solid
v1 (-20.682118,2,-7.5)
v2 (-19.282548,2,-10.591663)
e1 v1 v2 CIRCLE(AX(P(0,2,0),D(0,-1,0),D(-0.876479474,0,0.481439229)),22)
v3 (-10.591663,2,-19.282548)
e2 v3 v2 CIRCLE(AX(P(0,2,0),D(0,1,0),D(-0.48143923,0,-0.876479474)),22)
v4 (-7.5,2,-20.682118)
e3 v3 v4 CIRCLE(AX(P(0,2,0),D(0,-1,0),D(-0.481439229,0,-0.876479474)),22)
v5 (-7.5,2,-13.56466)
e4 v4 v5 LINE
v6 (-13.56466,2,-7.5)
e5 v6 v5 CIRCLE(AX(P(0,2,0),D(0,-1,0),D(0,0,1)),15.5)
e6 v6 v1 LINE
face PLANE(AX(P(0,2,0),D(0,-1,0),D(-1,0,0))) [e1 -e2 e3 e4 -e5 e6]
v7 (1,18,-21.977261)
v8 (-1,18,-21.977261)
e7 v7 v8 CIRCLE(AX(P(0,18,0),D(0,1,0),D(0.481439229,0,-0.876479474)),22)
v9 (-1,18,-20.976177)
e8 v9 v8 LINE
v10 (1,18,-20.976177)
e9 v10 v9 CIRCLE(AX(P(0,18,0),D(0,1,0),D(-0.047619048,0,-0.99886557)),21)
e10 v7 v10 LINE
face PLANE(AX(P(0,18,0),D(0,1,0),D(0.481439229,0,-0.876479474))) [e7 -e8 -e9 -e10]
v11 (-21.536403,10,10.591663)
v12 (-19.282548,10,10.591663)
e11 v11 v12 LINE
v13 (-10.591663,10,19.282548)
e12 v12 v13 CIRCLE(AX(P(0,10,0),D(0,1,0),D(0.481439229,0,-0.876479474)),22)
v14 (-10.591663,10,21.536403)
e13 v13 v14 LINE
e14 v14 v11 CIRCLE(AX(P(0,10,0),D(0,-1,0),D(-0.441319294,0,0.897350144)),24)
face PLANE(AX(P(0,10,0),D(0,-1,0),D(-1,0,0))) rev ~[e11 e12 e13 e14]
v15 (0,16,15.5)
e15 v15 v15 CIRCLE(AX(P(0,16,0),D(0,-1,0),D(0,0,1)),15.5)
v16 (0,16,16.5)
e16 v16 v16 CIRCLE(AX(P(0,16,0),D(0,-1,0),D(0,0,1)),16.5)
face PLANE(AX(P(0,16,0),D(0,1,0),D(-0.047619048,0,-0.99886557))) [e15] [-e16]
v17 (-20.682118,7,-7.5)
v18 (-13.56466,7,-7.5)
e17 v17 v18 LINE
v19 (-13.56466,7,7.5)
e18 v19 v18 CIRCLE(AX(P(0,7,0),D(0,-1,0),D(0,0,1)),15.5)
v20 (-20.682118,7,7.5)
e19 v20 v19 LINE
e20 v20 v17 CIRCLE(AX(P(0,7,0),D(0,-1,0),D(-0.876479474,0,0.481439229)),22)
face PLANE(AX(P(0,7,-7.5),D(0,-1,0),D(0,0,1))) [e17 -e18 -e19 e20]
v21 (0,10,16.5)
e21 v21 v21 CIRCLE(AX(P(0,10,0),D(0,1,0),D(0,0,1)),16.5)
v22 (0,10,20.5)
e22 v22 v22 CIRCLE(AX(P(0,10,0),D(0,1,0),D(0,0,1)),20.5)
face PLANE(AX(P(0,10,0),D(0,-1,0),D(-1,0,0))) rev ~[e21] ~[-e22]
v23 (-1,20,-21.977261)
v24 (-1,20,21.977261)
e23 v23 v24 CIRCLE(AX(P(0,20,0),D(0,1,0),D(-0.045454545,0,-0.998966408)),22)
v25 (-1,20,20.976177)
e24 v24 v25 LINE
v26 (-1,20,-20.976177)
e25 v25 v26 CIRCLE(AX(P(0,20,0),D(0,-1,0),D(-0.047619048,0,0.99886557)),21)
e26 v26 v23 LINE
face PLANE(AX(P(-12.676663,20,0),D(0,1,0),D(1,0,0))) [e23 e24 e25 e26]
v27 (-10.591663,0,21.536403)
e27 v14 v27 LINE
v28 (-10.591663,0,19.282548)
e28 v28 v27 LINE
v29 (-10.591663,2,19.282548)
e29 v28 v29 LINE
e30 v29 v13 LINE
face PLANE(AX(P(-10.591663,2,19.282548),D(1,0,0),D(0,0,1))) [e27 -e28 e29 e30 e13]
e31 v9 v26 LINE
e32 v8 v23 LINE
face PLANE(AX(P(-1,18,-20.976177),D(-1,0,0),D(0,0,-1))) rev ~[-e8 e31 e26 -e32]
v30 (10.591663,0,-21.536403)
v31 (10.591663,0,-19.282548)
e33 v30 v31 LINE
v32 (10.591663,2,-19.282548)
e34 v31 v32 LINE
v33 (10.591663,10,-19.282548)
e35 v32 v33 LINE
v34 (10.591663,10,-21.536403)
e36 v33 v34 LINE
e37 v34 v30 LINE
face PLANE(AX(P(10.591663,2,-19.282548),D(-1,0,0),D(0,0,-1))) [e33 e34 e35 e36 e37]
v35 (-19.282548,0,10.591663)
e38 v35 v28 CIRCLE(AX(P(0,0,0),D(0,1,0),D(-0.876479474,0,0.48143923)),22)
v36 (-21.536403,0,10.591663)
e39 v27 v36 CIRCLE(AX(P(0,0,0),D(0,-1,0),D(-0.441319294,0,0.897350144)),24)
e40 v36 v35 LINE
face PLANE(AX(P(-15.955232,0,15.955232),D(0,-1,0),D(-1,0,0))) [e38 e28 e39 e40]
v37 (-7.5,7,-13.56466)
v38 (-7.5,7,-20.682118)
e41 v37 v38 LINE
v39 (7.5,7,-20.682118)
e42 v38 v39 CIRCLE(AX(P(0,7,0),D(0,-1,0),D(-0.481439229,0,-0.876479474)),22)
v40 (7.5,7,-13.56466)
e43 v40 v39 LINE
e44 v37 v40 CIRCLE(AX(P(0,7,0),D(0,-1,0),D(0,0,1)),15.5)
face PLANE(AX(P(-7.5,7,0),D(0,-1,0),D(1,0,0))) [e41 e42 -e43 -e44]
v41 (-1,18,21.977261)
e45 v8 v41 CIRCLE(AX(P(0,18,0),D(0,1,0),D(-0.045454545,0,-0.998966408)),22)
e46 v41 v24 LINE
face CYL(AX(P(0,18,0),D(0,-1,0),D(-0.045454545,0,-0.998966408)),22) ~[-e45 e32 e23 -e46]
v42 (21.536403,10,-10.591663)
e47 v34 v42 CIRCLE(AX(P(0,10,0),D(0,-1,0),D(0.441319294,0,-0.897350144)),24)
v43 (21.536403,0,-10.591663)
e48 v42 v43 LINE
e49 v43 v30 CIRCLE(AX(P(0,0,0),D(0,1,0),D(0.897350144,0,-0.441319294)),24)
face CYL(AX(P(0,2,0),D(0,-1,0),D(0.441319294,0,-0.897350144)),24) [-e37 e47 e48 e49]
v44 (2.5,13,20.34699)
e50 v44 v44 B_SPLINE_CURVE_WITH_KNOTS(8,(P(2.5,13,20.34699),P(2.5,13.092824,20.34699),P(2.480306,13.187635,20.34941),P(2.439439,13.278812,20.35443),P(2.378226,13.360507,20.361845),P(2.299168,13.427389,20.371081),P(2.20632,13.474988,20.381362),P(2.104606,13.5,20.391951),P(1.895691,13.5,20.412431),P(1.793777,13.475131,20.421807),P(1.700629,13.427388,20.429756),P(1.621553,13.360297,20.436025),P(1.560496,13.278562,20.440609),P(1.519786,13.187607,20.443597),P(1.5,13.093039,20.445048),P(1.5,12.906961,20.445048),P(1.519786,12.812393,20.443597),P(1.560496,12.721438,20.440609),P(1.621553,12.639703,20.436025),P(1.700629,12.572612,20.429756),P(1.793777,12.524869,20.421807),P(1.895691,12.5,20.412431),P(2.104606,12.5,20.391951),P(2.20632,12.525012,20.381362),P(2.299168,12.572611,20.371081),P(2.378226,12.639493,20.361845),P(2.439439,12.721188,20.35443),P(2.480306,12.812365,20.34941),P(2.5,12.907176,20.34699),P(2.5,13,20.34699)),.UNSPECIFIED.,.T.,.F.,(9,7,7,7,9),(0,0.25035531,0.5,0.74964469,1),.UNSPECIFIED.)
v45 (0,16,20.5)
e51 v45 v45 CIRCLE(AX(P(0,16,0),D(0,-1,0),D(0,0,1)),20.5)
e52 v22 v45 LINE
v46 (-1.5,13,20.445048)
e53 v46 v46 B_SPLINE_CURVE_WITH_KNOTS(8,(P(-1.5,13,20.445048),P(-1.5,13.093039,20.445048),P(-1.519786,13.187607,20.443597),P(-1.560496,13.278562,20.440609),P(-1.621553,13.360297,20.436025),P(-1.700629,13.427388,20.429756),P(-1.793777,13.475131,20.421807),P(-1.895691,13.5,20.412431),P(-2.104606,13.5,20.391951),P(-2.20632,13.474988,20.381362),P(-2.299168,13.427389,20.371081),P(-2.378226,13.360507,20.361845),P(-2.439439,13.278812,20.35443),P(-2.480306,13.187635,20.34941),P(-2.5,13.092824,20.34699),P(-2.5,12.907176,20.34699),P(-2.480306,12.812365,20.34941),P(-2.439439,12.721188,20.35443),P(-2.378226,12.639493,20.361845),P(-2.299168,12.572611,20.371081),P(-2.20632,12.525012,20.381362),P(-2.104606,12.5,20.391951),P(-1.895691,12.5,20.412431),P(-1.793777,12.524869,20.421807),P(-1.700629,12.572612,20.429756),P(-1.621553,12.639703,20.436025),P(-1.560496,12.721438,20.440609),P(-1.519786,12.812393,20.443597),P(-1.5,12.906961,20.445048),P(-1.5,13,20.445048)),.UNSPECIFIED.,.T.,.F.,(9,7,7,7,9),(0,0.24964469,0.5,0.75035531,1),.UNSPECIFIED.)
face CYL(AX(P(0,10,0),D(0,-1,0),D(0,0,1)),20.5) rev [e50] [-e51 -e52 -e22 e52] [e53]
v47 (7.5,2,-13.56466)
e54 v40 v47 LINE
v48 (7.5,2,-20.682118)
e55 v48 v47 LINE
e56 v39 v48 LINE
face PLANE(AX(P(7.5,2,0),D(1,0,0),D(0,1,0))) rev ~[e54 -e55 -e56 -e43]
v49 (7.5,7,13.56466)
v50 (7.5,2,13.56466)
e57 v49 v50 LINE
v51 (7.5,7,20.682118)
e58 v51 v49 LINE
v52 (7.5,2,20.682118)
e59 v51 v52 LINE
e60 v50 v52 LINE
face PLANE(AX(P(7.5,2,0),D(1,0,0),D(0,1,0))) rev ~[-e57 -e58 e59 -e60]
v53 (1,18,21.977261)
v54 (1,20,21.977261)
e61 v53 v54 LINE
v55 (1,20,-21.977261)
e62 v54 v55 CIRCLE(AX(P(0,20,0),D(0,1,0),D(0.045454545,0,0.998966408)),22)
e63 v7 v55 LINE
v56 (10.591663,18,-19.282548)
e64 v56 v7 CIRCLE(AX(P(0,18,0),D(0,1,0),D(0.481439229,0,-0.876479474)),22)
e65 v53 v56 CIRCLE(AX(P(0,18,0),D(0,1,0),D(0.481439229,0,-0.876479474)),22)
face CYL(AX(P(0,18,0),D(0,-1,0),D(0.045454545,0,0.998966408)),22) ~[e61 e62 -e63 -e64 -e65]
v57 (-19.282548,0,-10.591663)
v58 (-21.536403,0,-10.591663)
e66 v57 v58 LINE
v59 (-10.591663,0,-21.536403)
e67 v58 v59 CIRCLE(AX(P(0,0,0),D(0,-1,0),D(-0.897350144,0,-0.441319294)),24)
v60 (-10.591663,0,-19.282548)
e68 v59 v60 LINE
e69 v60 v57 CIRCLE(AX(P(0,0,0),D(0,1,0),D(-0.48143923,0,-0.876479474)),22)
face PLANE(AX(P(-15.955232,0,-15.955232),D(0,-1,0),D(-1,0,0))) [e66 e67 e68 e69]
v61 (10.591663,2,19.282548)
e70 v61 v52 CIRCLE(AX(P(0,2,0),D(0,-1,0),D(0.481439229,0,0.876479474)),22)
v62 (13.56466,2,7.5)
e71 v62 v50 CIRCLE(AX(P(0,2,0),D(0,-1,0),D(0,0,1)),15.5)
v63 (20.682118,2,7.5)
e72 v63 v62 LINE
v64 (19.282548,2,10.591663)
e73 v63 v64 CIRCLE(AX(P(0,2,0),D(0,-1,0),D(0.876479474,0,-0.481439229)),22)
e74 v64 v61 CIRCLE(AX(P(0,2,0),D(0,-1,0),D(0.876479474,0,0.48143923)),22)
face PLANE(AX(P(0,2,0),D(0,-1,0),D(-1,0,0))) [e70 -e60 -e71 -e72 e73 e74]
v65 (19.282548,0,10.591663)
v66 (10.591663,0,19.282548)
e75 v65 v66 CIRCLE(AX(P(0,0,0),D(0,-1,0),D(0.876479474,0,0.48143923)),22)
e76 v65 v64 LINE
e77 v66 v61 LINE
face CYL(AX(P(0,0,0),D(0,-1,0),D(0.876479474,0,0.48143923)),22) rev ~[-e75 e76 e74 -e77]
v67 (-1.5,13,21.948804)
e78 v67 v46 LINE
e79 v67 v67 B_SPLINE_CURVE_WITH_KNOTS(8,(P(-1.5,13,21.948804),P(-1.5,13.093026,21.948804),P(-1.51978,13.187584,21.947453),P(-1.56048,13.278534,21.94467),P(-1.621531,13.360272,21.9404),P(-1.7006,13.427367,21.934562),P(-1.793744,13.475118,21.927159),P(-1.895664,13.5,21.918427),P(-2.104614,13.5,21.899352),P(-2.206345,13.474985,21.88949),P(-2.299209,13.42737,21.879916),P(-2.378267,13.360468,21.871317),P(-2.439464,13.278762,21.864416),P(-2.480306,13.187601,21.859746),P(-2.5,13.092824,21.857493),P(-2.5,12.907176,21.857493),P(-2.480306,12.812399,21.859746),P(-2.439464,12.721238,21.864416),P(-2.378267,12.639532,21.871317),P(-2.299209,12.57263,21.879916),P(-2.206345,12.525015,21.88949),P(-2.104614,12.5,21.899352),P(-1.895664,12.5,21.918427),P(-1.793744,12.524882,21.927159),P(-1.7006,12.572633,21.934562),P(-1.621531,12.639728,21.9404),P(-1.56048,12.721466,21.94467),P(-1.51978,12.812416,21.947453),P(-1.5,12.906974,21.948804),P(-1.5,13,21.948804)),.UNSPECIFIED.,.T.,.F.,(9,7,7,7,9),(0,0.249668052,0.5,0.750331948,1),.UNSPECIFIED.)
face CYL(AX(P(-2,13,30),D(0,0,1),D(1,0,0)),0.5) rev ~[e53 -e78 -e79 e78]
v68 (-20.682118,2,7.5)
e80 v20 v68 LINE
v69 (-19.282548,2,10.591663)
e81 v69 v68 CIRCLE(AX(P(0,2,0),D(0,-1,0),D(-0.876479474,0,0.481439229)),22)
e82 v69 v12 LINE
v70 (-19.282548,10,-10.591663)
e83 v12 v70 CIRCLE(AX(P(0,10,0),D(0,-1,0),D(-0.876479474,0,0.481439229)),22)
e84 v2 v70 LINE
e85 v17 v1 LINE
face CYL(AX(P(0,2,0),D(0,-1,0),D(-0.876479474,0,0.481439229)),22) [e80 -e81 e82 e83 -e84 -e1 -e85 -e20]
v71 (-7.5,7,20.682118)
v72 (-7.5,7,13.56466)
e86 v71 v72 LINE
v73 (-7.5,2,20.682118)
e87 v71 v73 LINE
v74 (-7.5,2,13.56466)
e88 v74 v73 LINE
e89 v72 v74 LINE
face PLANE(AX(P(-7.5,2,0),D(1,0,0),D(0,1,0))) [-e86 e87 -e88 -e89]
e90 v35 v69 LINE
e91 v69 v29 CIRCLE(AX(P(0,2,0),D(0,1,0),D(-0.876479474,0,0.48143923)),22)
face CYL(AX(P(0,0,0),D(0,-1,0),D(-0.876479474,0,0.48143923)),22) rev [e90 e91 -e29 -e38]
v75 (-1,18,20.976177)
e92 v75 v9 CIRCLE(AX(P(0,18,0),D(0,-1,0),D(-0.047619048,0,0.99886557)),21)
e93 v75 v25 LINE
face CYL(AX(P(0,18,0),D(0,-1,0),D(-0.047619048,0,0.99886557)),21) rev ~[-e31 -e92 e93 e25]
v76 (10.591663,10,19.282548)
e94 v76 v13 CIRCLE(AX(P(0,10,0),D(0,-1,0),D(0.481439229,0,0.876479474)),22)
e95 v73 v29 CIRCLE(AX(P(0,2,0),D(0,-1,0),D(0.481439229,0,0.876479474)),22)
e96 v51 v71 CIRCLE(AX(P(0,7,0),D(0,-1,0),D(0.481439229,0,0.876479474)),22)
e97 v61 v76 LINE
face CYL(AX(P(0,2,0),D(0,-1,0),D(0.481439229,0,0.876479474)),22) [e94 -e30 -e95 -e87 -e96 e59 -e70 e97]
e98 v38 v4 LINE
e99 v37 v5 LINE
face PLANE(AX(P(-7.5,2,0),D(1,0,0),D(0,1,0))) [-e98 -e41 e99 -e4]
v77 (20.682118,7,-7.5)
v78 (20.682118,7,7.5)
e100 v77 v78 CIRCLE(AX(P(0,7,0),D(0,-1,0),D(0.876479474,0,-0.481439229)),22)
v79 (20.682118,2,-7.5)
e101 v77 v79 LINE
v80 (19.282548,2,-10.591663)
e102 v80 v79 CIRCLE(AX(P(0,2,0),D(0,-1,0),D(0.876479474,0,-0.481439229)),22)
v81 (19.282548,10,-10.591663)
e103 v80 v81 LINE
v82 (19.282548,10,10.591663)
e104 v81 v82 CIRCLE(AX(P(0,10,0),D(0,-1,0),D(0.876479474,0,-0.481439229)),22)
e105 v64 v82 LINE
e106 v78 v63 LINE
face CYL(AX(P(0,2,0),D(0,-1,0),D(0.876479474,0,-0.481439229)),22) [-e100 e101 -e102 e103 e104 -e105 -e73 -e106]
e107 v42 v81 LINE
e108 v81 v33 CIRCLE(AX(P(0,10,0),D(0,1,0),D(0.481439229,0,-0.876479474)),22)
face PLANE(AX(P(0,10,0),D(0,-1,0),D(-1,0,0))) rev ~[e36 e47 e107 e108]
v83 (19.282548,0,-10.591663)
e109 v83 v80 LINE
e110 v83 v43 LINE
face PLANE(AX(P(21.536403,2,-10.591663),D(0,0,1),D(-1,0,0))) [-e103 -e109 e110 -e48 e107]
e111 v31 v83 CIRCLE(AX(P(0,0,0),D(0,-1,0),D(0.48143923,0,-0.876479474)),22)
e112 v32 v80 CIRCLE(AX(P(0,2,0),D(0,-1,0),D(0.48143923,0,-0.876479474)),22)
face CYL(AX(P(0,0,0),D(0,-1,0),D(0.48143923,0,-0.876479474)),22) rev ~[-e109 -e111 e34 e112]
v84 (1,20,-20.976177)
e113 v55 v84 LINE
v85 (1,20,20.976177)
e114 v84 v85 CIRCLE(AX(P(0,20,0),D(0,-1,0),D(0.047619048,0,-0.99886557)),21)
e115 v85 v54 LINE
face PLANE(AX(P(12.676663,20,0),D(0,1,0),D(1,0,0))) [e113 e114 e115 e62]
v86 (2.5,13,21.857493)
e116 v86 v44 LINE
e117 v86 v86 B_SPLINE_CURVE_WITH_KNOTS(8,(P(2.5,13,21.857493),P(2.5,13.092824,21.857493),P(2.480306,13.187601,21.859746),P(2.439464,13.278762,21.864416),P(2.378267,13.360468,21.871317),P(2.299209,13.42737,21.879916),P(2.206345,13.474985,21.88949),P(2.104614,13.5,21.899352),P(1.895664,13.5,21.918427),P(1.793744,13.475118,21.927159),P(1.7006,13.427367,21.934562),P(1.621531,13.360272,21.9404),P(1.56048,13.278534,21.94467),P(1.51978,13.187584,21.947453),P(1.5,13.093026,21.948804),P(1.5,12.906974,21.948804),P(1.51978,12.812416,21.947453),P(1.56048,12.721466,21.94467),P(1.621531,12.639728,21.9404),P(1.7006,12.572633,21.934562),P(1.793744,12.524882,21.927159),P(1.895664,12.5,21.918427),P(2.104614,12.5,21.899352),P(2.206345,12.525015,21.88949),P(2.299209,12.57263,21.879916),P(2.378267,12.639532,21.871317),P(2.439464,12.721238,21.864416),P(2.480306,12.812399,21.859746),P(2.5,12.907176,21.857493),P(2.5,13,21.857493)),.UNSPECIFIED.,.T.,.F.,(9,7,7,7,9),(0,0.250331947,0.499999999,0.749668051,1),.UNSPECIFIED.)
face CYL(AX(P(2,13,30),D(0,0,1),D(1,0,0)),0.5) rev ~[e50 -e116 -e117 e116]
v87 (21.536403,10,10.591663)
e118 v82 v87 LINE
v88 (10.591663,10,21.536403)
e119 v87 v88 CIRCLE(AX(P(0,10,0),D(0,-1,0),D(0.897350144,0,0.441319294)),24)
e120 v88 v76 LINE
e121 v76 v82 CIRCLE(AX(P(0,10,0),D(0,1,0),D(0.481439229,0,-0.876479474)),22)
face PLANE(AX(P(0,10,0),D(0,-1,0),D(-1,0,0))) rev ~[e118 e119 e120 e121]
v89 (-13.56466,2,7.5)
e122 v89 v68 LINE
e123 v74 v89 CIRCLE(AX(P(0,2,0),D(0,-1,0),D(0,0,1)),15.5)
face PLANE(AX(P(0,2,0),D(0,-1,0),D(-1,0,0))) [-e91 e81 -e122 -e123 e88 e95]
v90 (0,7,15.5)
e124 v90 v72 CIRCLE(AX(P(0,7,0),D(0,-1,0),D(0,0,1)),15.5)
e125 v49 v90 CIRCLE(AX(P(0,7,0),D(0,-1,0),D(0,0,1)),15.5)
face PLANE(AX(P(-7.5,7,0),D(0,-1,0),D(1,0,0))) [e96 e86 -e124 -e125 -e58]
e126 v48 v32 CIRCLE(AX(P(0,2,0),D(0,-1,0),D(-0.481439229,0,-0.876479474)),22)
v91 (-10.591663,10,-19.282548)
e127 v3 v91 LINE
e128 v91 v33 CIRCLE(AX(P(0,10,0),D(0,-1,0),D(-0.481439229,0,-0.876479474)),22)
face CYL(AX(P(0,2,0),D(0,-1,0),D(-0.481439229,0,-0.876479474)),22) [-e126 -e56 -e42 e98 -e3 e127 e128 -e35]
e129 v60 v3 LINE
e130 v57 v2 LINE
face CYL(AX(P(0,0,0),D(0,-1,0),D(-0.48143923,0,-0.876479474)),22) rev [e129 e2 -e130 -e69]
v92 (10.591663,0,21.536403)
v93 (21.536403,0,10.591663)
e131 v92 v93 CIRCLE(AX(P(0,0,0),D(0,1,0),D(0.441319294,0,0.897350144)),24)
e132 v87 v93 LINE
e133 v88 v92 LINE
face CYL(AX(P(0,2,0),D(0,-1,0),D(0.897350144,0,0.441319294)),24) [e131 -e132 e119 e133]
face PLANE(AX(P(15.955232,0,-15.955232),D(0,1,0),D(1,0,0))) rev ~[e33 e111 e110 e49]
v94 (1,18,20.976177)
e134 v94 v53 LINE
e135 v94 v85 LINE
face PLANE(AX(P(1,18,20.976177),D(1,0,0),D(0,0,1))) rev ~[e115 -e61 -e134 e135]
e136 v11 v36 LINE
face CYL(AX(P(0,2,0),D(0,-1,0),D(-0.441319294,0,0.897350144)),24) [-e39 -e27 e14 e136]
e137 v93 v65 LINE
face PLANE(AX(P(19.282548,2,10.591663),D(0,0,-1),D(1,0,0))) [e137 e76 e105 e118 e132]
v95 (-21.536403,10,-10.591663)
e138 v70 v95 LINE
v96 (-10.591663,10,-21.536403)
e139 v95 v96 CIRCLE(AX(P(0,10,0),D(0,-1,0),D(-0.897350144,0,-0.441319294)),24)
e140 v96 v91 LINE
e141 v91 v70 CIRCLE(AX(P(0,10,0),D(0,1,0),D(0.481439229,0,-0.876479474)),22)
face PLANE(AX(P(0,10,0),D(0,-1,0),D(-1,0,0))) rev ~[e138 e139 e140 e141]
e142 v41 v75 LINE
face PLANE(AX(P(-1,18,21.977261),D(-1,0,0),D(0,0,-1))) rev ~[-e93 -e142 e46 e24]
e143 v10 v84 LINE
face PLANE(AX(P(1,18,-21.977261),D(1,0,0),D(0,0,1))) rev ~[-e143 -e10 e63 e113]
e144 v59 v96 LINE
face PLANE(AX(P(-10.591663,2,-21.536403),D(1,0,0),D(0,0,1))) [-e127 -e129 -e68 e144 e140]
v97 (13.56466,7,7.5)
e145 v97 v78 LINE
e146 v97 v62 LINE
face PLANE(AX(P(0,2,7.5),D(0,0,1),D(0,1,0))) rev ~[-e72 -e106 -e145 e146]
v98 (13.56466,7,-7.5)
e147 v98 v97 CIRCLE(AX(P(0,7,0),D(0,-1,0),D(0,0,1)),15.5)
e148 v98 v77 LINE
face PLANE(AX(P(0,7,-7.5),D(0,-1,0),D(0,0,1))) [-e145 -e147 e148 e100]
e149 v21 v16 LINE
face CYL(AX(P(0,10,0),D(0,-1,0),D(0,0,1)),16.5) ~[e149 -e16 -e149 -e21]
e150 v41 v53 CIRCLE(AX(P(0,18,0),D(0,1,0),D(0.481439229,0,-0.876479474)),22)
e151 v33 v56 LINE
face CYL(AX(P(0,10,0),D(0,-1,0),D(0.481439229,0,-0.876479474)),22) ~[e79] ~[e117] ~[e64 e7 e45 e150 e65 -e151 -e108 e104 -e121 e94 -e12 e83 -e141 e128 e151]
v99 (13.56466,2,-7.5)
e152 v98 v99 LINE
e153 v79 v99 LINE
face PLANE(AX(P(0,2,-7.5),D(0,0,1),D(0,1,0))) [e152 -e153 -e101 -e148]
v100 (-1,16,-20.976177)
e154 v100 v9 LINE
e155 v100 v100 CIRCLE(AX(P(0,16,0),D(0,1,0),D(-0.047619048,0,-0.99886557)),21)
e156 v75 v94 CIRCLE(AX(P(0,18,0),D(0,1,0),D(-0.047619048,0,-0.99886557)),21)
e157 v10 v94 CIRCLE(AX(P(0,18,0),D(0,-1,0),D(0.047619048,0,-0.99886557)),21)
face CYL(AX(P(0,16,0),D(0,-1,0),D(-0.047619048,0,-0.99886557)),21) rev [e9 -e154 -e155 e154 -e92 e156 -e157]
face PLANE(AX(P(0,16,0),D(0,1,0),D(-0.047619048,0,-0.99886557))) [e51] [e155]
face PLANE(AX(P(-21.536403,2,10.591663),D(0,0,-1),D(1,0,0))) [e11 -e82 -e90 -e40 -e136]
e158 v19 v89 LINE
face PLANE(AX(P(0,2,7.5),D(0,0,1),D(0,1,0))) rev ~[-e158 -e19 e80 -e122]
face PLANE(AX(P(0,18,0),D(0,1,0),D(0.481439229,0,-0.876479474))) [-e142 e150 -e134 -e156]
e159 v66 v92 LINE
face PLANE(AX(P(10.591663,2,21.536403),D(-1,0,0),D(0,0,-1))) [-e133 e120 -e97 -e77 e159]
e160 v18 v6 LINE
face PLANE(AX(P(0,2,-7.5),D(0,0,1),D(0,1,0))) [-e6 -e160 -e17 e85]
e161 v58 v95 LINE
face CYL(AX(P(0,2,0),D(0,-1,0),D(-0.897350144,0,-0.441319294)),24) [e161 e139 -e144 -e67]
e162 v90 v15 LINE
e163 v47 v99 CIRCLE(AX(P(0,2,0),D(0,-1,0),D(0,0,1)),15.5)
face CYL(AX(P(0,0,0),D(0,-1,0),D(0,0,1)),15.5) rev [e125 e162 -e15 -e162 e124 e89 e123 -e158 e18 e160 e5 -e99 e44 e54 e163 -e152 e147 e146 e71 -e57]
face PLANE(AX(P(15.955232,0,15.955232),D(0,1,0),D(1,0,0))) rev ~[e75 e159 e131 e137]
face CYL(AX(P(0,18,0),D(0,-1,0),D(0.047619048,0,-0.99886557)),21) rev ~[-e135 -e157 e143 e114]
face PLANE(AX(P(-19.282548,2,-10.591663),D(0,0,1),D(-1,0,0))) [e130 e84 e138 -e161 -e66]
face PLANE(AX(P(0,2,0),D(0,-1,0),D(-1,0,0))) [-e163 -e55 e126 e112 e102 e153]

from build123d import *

# Parameters (mm, degrees)
EXTRUDE_1_DEPTH          = 2
EXTRUDE_1_2_DEPTH        = 2
EXTRUDE_1_3_DEPTH        = 2
EXTRUDE_1_4_DEPTH        = 2
EXTRUDE_2_DEPTH          = 8
SKETCH_5_R               = 22
SKETCH_5_R_2             = 20.5
EXTRUDE_3_DEPTH          = 8
SKETCH_6_R               = 16.5
SKETCH_6_R_2             = 15.5
EXTRUDE_4_DEPTH          = 7
CUT_EXTRUDE_START        = -10
SKETCH_7_R               = 15.5
CUT_EXTRUDE_1_DEPTH      = 10
SKETCH_8_W               = 15
SKETCH_8_H               = 5
CUT_EXTRUDE_2_DEPTH      = 36.944401511
PATTERN_CIRCULAR_1_COUNT = 2
PATTERN_CIRCULAR_1_ANGLE = 90
EXTRUDE_5_DEPTH          = 2
CUT_EXTRUDE_START_2      = 30
SKETCH_10_R              = 0.5
CUT_EXTRUDE_3_DEPTH      = 10
CUT_EXTRUDE_START_3      = -2
SKETCH_16_R              = 21
CUT_EXTRUDE_5_DEPTH      = 2


with BuildPart() as part:
    # 草图1 → 凸台-拉伸1 (new body)
    with BuildSketch(Plane(origin=(0, 0, 0), x_dir=(1, 0, 0), z_dir=(0, 1, 0))):
        with BuildLine():
            Line((-10.591663047, 21.536403458), (-10.591663047, 19.282548429))
            ThreePointArc((-10.591663047, 19.282548429), (-15.556349186, 15.556349186), (-19.282548429, 10.591663047))
            Line((-19.282548429, 10.591663047), (-21.536403458, 10.591663047))
            ThreePointArc((-21.536403458, 10.591663047), (-16.970562748, 16.970562748), (-10.591663047, 21.536403458))
        make_face()
    extrude(amount=EXTRUDE_1_DEPTH)



with BuildPart() as body_2:
    # 草图1 → Extrude 1 2 (new body)
    with BuildSketch(Plane(origin=(0, 0, 0), x_dir=(1, 0, 0), z_dir=(0, 1, 0))):
        with BuildLine():
            Line((10.591663047, 21.536403458), (10.591663047, 19.282548429))
            ThreePointArc((10.591663047, 19.282548429), (15.556349186, 15.556349186), (19.282548429, 10.591663047))
            Line((19.282548429, 10.591663047), (21.536403458, 10.591663047))
            ThreePointArc((21.536403458, 10.591663047), (16.970562748, 16.970562748), (10.591663047, 21.536403458))
        make_face()
    extrude(amount=EXTRUDE_1_2_DEPTH)


with BuildPart() as body_3:
    # 草图1 → Extrude 1 3 (new body)
    with BuildSketch(Plane(origin=(0, 0, 0), x_dir=(1, 0, 0), z_dir=(0, 1, 0))):
        with BuildLine():
            Line((-21.536403458, -10.591663047), (-19.282548429, -10.591663047))
            ThreePointArc((-19.282548429, -10.591663047), (-15.556349186, -15.556349186), (-10.591663047, -19.282548429))
            Line((-10.591663047, -19.282548429), (-10.591663047, -21.536403458))
            ThreePointArc((-10.591663047, -21.536403458), (-16.970562748, -16.970562748), (-21.536403458, -10.591663047))
        make_face()
    extrude(amount=EXTRUDE_1_3_DEPTH)


with BuildPart() as body_4:
    # 草图1 → Extrude 1 4 (new body)
    with BuildSketch(Plane(origin=(0, 0, 0), x_dir=(1, 0, 0), z_dir=(0, 1, 0))):
        with BuildLine():
            Line((21.536403458, -10.591663047), (19.282548429, -10.591663047))
            ThreePointArc((19.282548429, -10.591663047), (15.556349186, -15.556349186), (10.591663047, -19.282548429))
            Line((10.591663047, -19.282548429), (10.591663047, -21.536403458))
            ThreePointArc((10.591663047, -21.536403458), (16.970562748, -16.970562748), (21.536403458, -10.591663047))
        make_face()
    extrude(amount=EXTRUDE_1_4_DEPTH)


with BuildPart() as part_1:
    add(part.part)

    add(body_2.part)  # 凸台-拉伸2 merges body 2

    add(body_3.part)  # 凸台-拉伸2 merges body 3

    add(body_4.part)  # 凸台-拉伸2 merges body 4
    # 草图4 → 凸台-拉伸2 (add)
    with BuildSketch(Plane(origin=(0, 2, 0), x_dir=(1, 0, 0), z_dir=(0, 1, 0))):
        with BuildLine():
            Line((-10.591663047, 21.536403458), (-10.591663047, 19.282548429))
            ThreePointArc((-10.591663047, 19.282548429), (0, 22), (10.591663047, 19.282548429))
            Line((10.591663047, 19.282548429), (10.591663047, 21.536403458))
            ThreePointArc((10.591663047, 21.536403458), (16.970562748, 16.970562748), (21.536403458, 10.591663047))
            Line((21.536403458, 10.591663047), (19.282548429, 10.591663047))
            ThreePointArc((19.282548429, 10.591663047), (22, 0), (19.282548429, -10.591663047))
            Line((19.282548429, -10.591663047), (21.536403458, -10.591663047))
            ThreePointArc((21.536403458, -10.591663047), (16.970562748, -16.970562748), (10.591663047, -21.536403458))
            Line((10.591663047, -21.536403458), (10.591663047, -19.282548429))
            ThreePointArc((10.591663047, -19.282548429), (0, -22), (-10.591663047, -19.282548429))
            Line((-10.591663047, -19.282548429), (-10.591663047, -21.536403458))
            ThreePointArc((-10.591663047, -21.536403458), (-16.970562748, -16.970562748), (-21.536403458, -10.591663047))
            Line((-21.536403458, -10.591663047), (-19.282548429, -10.591663047))
            ThreePointArc((-19.282548429, -10.591663047), (-22, 0), (-19.282548429, 10.591663047))
            Line((-19.282548429, 10.591663047), (-21.536403458, 10.591663047))
            ThreePointArc((-21.536403458, 10.591663047), (-16.970562748, 16.970562748), (-10.591663047, 21.536403458))
        make_face()
    extrude(amount=EXTRUDE_2_DEPTH)

    # 草图5 → 凸台-拉伸3 (add)
    with BuildSketch(Plane(origin=(0, 10, 0), x_dir=(1, 0, 0), z_dir=(0, 1, 0))):
        with Locations(Location((0, 0, 0), (0, 0, 61.22055739))):
            Circle(SKETCH_5_R)
        with Locations(Location((0, 0, 0), (0, 0, 270))):
            Circle(SKETCH_5_R_2, mode=Mode.SUBTRACT)
    extrude(amount=EXTRUDE_3_DEPTH)

    # 草图6 → 凸台-拉伸4 (add)
    with BuildSketch(Plane(origin=(0, 10, 0), x_dir=(1, 0, 0), z_dir=(0, 1, 0))):
        with Locations(Location((0, 0, 0), (0, 0, 270))):
            Circle(SKETCH_6_R)
        with Locations(Location((0, 0, 0), (0, 0, 270))):
            Circle(SKETCH_6_R_2, mode=Mode.SUBTRACT)
    extrude(amount=EXTRUDE_4_DEPTH)

    # 草图7 → 切除-拉伸1 (cut)
    with BuildSketch(Plane(origin=(0, 10, 0), x_dir=(1, 0, 0), z_dir=(0, 1, 0)).offset(CUT_EXTRUDE_START)):
        with Locations(Location((0, 0, 0), (0, 0, 270))):
            Circle(SKETCH_7_R)
    extrude(amount=CUT_EXTRUDE_1_DEPTH, mode=Mode.SUBTRACT)

    # 草图8 → 切除-拉伸2 (cut, symmetric)
    with BuildSketch(Plane.XY):
        with Locations((0, 4.5)):
            Rectangle(SKETCH_8_W, SKETCH_8_H)
    cut_extrude_2 = extrude(amount=CUT_EXTRUDE_2_DEPTH, both=True, mode=Mode.SUBTRACT)

    # 阵列(圆周)1: 切除-拉伸2 ×2 about axis
    pattern_circular_1_axis = Axis((0, 10, 0), (0, -1, 0))
    for i in range(1, PATTERN_CIRCULAR_1_COUNT):
        add(cut_extrude_2.rotate(pattern_circular_1_axis, i * PATTERN_CIRCULAR_1_ANGLE / (PATTERN_CIRCULAR_1_COUNT - 1)), mode=Mode.SUBTRACT)

    # 草图9 → 凸台-拉伸5 (add)
    with BuildSketch(Plane(origin=(0, 18, 0), x_dir=(1, 0, 0), z_dir=(0, 1, 0))):
        with BuildLine():
            Line((1, -20.976176963), (1, -21.977260976))
            ThreePointArc((1, -21.977260976), (22, 0), (1, 21.977260976))
            Line((1, 21.977260976), (1, 20.976176963))
            ThreePointArc((1, 20.976176963), (21, 0), (1, -20.976176963))
        make_face()
        with BuildLine():
            Line((-1, 20.976176963), (-1, 21.977260976))
            ThreePointArc((-1, 21.977260976), (-22, 0), (-1, -21.977260976))
            Line((-1, -21.977260976), (-1, -20.976176963))
            ThreePointArc((-1, -20.976176963), (-21, 0), (-1, 20.976176963))
        make_face()
    extrude(amount=EXTRUDE_5_DEPTH)

    # 草图10 → 切除-拉伸3 (cut)
    with BuildSketch(Plane.XY.offset(CUT_EXTRUDE_START_2)):
        with Locations((-2, 13)):
            Circle(SKETCH_10_R)
        with Locations((2, 13)):
            Circle(SKETCH_10_R)
    extrude(amount=-CUT_EXTRUDE_3_DEPTH, mode=Mode.SUBTRACT)

    # 草图16 → 切除-拉伸5 (cut)
    with BuildSketch(Plane(origin=(0, 18, 0), x_dir=(1, 0, 0), z_dir=(0, 1, 0)).offset(CUT_EXTRUDE_START_3)):
        with Locations(Location((0, 0, 0), (0, 0, 92.729402637))):
            Circle(SKETCH_16_R)
    extrude(amount=CUT_EXTRUDE_5_DEPTH, mode=Mode.SUBTRACT)


solid = part_1.part
